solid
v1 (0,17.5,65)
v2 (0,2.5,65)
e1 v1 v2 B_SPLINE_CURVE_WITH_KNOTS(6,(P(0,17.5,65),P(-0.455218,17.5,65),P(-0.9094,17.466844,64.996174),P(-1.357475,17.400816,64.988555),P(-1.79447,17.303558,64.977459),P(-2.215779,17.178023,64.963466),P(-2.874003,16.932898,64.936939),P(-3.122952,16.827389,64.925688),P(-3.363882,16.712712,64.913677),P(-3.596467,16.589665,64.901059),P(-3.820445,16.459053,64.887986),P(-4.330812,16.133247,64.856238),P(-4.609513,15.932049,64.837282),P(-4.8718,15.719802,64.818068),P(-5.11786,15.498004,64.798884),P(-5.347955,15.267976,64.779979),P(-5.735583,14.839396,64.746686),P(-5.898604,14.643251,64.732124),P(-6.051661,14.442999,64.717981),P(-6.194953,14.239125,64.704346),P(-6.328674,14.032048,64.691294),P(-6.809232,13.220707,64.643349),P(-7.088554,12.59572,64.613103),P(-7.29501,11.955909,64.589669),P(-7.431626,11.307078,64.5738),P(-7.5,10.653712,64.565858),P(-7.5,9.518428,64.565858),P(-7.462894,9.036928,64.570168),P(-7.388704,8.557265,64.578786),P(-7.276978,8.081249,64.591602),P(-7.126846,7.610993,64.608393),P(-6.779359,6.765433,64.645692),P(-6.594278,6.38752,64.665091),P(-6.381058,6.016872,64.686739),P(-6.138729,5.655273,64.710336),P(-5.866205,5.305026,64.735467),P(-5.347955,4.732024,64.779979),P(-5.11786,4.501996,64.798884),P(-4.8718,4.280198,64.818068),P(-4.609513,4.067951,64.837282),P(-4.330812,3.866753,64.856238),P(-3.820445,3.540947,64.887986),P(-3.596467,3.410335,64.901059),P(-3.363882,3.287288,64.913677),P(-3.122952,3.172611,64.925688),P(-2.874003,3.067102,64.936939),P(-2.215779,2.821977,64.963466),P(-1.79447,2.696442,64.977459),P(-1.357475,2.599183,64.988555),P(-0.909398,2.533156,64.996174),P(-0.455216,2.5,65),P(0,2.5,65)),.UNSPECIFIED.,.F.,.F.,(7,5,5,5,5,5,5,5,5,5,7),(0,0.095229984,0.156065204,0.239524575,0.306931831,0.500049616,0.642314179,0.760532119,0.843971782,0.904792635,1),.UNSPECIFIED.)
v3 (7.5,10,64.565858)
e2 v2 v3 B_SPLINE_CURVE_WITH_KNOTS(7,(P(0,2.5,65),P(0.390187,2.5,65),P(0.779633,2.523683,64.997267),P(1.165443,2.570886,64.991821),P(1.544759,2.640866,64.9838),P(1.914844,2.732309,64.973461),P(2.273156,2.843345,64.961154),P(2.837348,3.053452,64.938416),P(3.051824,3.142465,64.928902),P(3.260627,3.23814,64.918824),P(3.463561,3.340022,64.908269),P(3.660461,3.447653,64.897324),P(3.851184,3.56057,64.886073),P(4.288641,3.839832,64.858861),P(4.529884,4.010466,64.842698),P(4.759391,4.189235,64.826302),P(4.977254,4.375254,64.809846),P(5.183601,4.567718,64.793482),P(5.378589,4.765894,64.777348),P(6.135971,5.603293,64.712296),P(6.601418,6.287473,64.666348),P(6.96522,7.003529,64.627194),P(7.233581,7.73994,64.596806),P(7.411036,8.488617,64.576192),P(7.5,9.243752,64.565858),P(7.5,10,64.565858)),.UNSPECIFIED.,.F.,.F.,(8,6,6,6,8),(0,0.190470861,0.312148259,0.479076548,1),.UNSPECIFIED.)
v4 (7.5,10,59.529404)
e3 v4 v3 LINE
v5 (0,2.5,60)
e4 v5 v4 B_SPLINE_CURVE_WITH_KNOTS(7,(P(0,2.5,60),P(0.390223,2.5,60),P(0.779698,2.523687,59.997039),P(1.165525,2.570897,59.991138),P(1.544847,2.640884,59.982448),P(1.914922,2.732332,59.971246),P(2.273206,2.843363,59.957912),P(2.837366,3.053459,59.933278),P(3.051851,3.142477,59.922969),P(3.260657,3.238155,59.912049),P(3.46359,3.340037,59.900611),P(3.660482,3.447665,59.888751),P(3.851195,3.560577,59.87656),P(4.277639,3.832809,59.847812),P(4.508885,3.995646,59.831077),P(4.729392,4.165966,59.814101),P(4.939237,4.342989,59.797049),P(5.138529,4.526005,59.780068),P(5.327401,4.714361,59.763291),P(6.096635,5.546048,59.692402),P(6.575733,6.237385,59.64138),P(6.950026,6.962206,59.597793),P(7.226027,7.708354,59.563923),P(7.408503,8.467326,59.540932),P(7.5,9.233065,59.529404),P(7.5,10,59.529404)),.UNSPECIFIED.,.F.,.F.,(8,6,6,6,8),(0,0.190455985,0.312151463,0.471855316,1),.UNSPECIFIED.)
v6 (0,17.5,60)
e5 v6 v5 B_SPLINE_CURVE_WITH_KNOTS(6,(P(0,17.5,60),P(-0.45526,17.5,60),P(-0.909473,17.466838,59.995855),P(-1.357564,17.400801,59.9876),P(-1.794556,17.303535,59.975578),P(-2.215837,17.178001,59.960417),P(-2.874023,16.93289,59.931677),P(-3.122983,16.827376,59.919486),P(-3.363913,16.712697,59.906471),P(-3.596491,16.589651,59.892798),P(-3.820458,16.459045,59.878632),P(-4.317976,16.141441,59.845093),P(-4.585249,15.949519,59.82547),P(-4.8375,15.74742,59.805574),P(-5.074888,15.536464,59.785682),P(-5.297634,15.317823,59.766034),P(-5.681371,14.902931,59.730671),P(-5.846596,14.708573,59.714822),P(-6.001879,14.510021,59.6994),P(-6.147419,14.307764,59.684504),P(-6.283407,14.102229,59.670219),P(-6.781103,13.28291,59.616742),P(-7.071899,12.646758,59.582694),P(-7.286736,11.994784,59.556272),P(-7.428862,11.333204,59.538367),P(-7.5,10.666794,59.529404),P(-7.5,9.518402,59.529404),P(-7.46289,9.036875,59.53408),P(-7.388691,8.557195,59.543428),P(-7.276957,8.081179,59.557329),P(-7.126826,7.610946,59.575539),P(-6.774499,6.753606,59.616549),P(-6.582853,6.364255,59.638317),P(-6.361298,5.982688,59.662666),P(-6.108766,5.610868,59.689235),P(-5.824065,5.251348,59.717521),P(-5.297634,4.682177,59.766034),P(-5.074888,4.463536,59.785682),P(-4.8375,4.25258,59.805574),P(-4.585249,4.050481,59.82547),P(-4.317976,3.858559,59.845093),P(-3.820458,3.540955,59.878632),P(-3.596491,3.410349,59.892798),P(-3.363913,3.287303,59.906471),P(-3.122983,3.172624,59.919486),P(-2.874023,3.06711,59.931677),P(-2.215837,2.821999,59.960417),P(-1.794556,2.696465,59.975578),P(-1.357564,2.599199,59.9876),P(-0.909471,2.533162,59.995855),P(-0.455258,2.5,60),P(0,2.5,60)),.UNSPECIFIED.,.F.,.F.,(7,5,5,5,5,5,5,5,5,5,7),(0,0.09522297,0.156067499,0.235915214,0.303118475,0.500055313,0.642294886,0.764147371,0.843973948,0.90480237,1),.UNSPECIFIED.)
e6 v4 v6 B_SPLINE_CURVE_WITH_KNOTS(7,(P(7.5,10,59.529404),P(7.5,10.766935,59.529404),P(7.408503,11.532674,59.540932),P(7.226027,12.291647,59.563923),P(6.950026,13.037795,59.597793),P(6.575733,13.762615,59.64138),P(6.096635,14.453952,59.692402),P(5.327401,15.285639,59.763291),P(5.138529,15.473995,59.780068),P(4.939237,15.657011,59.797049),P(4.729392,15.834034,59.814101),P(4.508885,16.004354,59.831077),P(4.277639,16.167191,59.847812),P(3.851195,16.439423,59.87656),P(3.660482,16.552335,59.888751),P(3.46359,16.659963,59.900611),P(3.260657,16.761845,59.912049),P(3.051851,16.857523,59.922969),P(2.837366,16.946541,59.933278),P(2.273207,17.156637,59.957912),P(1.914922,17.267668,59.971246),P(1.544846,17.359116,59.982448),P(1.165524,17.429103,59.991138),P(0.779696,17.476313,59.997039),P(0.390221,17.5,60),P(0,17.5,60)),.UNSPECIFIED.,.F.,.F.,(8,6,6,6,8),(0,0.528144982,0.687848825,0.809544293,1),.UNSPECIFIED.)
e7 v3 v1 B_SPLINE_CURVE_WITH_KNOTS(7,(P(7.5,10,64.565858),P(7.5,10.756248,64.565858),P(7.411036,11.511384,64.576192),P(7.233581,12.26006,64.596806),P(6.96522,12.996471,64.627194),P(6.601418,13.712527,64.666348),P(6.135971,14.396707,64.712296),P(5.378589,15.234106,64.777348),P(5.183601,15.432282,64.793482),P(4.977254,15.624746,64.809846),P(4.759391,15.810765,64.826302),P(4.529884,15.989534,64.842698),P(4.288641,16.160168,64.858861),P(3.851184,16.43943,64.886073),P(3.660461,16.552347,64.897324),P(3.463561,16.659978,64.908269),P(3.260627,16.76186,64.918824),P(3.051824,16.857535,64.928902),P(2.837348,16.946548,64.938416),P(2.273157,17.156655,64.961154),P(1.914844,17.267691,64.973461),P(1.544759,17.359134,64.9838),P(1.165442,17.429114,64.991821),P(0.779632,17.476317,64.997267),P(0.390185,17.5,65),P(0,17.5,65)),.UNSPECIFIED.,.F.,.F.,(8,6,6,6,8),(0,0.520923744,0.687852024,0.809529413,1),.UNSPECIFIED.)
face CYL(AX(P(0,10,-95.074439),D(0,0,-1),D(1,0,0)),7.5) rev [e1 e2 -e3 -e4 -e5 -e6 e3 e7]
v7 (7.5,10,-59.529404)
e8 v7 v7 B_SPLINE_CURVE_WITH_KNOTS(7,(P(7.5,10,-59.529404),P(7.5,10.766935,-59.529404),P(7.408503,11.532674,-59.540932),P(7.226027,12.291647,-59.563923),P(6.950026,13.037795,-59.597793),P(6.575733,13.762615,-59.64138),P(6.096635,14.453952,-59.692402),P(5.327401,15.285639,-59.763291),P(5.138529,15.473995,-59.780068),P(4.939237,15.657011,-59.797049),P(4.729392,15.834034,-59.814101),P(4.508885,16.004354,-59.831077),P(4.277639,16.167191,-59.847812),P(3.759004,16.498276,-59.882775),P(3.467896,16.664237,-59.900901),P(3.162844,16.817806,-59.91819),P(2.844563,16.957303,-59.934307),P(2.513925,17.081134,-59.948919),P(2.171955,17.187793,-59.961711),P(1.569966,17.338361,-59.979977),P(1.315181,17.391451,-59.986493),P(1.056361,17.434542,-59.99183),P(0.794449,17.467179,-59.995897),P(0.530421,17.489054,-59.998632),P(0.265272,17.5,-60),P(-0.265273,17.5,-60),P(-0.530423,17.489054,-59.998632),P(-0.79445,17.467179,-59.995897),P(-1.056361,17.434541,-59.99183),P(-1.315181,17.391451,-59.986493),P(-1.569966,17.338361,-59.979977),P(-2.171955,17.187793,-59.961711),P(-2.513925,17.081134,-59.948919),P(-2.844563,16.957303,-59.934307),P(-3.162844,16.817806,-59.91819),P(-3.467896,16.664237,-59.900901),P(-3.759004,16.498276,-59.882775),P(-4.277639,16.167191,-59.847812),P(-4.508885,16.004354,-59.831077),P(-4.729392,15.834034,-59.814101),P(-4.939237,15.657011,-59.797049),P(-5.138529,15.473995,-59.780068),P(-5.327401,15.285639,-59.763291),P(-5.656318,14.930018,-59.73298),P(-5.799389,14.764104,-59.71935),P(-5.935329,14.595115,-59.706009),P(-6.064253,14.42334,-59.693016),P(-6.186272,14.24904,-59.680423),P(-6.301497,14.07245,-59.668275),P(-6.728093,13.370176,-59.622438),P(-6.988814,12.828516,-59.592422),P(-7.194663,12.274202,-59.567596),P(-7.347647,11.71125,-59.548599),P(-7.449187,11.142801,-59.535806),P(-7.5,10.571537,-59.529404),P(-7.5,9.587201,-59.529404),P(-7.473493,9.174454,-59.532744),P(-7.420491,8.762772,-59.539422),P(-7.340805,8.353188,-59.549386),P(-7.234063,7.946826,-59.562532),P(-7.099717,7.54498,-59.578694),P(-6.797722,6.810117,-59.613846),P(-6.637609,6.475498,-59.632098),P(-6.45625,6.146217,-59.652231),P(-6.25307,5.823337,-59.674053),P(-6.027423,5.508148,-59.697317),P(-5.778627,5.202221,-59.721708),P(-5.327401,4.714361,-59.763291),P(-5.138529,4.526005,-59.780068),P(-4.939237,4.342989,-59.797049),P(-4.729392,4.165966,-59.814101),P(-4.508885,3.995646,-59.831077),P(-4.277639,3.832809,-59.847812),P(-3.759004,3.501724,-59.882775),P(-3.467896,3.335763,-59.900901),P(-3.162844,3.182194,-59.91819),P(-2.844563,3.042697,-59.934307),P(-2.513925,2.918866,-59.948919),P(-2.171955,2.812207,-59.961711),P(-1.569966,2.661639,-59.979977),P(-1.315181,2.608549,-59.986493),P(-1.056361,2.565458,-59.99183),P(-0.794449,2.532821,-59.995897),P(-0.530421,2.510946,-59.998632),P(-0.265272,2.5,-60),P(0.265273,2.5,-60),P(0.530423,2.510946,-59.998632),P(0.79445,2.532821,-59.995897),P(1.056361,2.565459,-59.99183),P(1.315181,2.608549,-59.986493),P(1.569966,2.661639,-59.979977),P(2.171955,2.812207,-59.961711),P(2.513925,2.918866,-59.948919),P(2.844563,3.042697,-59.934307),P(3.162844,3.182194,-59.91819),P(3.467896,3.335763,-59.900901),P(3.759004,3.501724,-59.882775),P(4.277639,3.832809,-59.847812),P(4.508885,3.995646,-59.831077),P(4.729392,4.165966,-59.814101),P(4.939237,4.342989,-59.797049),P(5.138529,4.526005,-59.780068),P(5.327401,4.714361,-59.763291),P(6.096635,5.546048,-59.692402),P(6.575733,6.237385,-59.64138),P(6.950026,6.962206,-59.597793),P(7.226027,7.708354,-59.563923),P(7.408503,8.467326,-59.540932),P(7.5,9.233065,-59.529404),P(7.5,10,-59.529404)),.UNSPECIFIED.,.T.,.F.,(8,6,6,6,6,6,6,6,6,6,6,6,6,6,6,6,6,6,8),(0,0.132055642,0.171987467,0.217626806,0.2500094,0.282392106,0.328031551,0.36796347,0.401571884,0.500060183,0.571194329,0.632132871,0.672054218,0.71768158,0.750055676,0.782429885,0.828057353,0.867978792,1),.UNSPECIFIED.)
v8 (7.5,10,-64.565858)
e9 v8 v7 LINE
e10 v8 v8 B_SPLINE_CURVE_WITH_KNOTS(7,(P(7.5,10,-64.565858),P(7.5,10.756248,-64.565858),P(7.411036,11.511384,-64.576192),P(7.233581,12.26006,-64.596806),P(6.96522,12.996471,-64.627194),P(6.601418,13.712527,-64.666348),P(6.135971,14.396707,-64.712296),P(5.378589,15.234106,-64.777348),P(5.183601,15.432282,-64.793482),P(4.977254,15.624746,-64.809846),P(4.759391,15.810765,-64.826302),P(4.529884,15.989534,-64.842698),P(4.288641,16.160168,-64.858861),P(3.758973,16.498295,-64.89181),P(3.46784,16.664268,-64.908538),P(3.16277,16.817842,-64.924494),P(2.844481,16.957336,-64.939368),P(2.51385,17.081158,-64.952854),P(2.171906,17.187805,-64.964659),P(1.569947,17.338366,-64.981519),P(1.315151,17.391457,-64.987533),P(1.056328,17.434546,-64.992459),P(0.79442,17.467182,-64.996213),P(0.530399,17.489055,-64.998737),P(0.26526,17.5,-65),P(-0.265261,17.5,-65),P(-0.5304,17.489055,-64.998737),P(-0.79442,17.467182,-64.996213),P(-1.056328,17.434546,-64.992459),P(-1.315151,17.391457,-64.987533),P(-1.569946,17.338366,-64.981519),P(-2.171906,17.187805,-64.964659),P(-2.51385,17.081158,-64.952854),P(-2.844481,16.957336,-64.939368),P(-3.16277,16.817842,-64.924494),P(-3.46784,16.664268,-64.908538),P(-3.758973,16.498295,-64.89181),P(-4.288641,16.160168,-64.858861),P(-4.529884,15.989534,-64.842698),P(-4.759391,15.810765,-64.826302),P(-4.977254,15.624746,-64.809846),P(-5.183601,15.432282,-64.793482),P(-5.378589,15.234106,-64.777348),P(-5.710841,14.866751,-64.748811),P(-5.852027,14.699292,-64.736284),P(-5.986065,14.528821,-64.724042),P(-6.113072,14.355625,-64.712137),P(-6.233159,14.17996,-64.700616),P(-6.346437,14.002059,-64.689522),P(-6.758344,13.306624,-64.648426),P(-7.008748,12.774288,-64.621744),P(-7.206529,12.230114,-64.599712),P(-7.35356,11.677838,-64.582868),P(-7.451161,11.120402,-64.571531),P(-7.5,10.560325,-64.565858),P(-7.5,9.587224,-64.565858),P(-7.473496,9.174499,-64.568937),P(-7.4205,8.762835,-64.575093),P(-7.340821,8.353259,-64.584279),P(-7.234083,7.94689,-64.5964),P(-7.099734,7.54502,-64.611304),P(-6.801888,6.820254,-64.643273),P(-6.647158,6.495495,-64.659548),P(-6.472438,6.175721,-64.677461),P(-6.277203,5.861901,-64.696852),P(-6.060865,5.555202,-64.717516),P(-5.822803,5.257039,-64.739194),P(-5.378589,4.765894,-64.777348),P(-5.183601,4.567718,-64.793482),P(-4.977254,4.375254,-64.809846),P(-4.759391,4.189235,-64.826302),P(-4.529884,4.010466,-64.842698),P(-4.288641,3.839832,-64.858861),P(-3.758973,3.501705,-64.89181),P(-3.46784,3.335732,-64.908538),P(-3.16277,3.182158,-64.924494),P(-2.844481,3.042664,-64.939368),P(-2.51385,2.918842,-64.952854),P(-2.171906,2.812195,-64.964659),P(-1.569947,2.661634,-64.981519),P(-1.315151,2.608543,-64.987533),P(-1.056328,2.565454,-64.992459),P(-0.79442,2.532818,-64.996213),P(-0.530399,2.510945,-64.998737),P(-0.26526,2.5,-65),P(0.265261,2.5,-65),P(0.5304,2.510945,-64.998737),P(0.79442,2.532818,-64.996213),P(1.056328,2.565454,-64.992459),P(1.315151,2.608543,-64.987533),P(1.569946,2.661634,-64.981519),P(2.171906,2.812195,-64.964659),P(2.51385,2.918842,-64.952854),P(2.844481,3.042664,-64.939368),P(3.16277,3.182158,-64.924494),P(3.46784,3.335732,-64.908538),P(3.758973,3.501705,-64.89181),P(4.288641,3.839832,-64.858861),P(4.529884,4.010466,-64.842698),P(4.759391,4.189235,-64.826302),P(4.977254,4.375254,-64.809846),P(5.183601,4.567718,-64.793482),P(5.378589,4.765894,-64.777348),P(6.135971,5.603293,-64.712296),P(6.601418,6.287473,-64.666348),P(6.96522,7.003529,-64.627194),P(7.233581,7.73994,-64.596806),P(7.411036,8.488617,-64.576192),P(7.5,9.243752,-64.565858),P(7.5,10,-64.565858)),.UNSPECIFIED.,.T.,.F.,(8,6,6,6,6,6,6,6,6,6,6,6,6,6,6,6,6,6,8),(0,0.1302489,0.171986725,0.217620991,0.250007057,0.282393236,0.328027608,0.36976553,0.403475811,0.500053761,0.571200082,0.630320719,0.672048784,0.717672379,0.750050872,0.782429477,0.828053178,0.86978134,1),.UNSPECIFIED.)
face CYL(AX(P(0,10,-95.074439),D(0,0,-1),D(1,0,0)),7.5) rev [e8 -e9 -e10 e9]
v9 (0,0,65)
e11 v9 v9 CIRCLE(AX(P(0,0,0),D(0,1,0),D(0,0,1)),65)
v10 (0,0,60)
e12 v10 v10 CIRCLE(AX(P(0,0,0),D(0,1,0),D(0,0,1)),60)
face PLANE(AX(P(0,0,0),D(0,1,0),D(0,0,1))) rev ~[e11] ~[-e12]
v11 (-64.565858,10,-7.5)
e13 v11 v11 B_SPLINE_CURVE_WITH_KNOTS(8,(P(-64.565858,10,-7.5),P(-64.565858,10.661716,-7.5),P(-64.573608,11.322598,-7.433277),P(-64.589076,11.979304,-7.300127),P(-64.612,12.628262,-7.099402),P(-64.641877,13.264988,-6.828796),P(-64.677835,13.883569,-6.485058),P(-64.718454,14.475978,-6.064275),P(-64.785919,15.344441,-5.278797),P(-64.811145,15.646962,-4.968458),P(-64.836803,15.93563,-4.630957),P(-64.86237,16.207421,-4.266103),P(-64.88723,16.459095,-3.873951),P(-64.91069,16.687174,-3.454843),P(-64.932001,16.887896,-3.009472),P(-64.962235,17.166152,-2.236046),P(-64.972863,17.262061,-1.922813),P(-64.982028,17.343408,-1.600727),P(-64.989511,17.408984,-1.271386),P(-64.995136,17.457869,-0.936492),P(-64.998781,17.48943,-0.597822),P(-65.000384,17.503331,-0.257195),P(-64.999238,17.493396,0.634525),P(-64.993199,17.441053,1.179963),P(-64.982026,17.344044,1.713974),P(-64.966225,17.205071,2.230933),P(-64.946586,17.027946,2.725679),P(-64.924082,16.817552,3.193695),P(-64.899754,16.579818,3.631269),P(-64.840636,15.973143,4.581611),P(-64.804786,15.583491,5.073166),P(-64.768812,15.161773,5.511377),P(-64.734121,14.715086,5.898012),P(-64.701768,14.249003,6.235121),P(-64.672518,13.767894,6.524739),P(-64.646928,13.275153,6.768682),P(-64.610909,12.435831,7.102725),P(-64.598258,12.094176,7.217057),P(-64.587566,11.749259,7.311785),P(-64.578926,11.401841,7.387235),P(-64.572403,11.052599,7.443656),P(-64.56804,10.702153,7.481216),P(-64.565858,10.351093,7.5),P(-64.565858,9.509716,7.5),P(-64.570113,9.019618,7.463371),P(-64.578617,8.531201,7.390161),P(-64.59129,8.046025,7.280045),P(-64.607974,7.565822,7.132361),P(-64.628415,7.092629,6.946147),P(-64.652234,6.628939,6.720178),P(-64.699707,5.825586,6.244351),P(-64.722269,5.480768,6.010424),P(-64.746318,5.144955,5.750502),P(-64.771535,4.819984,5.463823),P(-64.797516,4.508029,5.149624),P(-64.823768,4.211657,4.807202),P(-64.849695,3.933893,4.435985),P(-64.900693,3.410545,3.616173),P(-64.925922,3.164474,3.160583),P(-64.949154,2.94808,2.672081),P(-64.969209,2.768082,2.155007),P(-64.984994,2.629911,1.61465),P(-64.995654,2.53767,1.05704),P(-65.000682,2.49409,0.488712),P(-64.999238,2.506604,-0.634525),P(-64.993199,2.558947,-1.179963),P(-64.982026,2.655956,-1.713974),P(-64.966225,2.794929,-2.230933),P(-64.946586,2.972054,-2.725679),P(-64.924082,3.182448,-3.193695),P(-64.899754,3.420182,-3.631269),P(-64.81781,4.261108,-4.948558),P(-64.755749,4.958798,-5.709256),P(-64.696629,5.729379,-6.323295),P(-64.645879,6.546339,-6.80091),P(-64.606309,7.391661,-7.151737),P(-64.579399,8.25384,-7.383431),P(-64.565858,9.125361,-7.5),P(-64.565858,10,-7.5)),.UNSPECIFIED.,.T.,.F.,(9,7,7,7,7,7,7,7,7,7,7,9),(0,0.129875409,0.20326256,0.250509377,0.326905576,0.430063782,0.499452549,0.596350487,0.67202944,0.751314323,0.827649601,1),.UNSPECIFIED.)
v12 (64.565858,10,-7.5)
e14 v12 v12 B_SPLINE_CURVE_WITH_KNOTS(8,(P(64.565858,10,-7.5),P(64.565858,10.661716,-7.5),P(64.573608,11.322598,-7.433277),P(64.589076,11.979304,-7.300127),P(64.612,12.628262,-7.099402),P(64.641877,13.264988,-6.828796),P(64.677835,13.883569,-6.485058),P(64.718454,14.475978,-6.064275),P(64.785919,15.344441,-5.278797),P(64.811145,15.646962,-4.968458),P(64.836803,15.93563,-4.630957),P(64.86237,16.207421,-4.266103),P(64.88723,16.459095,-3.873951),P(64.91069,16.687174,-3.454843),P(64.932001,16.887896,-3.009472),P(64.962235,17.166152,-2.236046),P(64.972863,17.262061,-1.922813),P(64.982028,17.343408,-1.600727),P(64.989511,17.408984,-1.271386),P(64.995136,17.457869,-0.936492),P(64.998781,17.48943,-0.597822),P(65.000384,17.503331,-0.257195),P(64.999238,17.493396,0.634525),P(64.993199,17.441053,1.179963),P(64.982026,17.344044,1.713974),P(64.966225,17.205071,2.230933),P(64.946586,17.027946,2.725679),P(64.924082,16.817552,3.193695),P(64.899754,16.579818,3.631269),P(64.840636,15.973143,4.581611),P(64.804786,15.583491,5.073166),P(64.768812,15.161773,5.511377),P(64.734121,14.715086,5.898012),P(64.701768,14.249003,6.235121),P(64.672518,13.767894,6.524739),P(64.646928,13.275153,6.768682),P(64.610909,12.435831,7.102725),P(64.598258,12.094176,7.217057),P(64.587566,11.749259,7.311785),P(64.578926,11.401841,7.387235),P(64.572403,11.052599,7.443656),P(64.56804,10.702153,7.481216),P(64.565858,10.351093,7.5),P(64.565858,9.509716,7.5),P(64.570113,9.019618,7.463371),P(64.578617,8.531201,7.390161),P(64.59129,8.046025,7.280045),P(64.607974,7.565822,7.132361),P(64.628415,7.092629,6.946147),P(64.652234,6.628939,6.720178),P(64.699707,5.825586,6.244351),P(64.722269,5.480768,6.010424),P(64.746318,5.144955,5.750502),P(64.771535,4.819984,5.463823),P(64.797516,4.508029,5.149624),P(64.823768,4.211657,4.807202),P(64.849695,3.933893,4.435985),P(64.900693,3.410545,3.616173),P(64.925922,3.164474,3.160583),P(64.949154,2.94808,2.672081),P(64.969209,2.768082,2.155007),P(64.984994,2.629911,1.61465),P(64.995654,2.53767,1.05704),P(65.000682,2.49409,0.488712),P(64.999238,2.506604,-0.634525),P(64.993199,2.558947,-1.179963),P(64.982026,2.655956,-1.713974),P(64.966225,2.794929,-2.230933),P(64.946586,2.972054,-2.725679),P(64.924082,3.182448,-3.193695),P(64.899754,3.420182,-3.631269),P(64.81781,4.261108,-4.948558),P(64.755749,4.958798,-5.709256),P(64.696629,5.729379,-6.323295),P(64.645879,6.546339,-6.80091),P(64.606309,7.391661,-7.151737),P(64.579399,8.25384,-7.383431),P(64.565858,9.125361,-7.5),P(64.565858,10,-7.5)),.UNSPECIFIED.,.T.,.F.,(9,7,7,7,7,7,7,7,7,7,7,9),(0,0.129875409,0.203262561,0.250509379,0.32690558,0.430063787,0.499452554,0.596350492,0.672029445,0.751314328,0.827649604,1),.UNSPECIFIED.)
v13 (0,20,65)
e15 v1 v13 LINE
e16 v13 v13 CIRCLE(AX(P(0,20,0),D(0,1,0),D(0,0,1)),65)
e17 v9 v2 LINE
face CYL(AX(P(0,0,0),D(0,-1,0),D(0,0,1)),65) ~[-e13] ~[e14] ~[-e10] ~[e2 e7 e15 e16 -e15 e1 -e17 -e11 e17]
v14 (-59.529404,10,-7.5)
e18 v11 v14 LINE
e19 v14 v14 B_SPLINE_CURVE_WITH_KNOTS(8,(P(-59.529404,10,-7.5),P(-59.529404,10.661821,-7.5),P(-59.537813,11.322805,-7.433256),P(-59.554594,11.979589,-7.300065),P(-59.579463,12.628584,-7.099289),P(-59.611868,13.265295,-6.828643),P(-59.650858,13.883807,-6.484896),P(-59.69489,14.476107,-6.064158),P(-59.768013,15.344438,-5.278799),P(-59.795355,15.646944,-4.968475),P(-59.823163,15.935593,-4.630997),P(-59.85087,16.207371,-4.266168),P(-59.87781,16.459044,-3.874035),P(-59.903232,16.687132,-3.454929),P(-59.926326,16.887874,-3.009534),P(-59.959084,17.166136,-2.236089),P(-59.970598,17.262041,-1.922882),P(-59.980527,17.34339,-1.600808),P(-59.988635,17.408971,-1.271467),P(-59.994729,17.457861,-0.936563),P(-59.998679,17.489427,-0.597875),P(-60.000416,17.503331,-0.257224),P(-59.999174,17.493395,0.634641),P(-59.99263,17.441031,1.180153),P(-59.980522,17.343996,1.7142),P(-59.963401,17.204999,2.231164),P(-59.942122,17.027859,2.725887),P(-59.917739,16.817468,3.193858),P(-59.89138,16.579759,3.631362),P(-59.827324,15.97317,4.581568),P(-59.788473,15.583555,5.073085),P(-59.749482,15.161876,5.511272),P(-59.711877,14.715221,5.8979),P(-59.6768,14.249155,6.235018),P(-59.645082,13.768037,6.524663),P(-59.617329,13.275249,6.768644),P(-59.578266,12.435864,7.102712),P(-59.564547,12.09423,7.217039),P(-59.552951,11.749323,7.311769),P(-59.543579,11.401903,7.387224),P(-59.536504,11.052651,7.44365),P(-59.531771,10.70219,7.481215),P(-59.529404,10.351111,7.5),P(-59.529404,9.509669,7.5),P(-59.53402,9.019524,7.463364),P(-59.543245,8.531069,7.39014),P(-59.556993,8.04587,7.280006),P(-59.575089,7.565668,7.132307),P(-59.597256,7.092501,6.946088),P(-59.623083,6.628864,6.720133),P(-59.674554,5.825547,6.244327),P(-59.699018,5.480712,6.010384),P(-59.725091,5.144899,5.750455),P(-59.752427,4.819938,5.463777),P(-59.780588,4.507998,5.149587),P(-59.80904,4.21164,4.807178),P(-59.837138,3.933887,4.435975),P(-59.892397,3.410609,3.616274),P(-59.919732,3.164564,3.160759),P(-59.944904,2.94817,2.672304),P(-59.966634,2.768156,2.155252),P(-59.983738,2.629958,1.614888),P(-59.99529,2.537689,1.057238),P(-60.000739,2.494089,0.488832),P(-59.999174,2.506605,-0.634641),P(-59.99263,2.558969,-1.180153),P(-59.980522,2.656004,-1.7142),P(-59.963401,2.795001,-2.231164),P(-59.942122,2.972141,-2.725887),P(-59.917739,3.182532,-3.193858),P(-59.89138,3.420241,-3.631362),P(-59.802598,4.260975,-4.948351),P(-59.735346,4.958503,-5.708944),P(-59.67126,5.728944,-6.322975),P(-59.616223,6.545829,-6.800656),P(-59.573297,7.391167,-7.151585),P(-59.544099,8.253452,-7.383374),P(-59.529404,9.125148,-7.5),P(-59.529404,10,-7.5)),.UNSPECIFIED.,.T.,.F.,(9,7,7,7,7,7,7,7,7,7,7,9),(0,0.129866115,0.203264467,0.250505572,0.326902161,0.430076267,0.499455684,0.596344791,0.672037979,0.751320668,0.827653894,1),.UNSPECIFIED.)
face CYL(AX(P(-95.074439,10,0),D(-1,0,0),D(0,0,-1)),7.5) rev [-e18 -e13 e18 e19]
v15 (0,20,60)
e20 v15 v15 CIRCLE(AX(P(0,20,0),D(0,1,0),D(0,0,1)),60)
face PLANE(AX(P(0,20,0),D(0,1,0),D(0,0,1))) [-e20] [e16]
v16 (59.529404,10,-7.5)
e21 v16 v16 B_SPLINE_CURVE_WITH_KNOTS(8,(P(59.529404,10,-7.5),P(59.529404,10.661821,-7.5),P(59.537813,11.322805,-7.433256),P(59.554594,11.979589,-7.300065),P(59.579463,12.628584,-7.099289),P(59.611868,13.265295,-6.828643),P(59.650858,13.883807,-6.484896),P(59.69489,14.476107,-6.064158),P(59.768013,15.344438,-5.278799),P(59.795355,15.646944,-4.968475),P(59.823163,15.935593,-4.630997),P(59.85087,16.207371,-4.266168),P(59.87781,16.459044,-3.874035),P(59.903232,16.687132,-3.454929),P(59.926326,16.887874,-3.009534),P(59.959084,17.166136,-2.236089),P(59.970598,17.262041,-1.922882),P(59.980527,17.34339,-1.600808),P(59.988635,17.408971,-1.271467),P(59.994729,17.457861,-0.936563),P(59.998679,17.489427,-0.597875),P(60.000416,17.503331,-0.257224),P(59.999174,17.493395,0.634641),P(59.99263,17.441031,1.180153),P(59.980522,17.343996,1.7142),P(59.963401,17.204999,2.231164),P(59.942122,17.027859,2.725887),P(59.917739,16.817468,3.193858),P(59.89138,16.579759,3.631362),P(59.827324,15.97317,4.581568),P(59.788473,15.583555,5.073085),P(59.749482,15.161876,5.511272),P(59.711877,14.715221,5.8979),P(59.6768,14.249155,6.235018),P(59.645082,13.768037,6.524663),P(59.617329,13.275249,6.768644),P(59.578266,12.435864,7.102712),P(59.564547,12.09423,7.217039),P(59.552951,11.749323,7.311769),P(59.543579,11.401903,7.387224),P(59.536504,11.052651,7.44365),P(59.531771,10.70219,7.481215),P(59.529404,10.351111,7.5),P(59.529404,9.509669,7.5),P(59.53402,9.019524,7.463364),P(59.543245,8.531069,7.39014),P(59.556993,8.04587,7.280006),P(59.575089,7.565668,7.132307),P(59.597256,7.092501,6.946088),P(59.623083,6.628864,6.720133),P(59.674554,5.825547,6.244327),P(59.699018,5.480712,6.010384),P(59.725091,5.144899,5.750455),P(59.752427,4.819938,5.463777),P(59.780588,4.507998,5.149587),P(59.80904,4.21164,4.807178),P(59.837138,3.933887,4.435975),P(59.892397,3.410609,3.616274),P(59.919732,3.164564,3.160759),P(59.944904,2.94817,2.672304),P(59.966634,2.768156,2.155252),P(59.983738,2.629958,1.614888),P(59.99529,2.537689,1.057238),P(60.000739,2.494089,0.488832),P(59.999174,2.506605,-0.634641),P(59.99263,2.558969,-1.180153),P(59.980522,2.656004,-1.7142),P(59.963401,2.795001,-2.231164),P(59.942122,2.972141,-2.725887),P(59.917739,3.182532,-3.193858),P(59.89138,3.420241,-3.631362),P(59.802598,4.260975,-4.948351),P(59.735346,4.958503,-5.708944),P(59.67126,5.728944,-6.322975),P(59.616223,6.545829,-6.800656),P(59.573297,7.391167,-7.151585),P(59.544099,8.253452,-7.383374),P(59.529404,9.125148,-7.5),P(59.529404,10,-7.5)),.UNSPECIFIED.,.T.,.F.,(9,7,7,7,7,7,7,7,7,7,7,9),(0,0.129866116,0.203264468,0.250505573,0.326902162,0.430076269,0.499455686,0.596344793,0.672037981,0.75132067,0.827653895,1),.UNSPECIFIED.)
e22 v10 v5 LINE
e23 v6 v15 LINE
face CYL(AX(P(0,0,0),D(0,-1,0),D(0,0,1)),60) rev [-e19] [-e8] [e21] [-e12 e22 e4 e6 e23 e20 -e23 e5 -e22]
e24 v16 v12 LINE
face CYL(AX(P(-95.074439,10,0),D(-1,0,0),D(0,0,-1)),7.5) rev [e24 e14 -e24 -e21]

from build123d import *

# Parameters (mm, degrees)
SKETCH1_R               = 65
SKETCH1_R_2             = 60
BOSS_EXTRUDE1_DEPTH     = 20
CUT_EXTRUDE1_DEPTH      = 95.074438611
CUT_EXTRUDE1_DEPTH_BACK = 95.074438611
SKETCH2_R               = 7.5
CUT_EXTRUDE2_DEPTH      = 95.074438771
CUT_EXTRUDE2_DEPTH_BACK = 95.074438771
SKETCH3_R               = 7.5


with BuildPart() as part:
    # Sketch1 → Boss-Extrude1 (new body)
    with BuildSketch(Plane(origin=(0, 0, 0), x_dir=(1, 0, 0), z_dir=(0, 1, 0))):
        with Locations(Location((0, 0, 0), (0, 0, 270))):
            Circle(SKETCH1_R)
        with Locations(Location((0, 0, 0), (0, 0, 270))):
            Circle(SKETCH1_R_2, mode=Mode.SUBTRACT)
    extrude(amount=BOSS_EXTRUDE1_DEPTH)

    # Sketch2 → Cut-Extrude1 (cut, two sides: drawn at the far end of the back side and taken through both)
    with BuildSketch(Plane.XY.offset(-CUT_EXTRUDE1_DEPTH_BACK)):
        with Locations((0, 10)):
            Circle(SKETCH2_R)
    extrude(amount=CUT_EXTRUDE1_DEPTH + CUT_EXTRUDE1_DEPTH_BACK, mode=Mode.SUBTRACT)

    # Sketch3 → Cut-Extrude2 (cut, two sides: drawn at the far end of the back side and taken through both)
    with BuildSketch(Plane(origin=(0, 0, 0), x_dir=(0, 0, -1), z_dir=(1, 0, 0)).offset(-CUT_EXTRUDE2_DEPTH_BACK)):
        with Locations((0, 10)):
            Circle(SKETCH3_R)
    extrude(amount=CUT_EXTRUDE2_DEPTH + CUT_EXTRUDE2_DEPTH_BACK, mode=Mode.SUBTRACT)


solid = part.part
